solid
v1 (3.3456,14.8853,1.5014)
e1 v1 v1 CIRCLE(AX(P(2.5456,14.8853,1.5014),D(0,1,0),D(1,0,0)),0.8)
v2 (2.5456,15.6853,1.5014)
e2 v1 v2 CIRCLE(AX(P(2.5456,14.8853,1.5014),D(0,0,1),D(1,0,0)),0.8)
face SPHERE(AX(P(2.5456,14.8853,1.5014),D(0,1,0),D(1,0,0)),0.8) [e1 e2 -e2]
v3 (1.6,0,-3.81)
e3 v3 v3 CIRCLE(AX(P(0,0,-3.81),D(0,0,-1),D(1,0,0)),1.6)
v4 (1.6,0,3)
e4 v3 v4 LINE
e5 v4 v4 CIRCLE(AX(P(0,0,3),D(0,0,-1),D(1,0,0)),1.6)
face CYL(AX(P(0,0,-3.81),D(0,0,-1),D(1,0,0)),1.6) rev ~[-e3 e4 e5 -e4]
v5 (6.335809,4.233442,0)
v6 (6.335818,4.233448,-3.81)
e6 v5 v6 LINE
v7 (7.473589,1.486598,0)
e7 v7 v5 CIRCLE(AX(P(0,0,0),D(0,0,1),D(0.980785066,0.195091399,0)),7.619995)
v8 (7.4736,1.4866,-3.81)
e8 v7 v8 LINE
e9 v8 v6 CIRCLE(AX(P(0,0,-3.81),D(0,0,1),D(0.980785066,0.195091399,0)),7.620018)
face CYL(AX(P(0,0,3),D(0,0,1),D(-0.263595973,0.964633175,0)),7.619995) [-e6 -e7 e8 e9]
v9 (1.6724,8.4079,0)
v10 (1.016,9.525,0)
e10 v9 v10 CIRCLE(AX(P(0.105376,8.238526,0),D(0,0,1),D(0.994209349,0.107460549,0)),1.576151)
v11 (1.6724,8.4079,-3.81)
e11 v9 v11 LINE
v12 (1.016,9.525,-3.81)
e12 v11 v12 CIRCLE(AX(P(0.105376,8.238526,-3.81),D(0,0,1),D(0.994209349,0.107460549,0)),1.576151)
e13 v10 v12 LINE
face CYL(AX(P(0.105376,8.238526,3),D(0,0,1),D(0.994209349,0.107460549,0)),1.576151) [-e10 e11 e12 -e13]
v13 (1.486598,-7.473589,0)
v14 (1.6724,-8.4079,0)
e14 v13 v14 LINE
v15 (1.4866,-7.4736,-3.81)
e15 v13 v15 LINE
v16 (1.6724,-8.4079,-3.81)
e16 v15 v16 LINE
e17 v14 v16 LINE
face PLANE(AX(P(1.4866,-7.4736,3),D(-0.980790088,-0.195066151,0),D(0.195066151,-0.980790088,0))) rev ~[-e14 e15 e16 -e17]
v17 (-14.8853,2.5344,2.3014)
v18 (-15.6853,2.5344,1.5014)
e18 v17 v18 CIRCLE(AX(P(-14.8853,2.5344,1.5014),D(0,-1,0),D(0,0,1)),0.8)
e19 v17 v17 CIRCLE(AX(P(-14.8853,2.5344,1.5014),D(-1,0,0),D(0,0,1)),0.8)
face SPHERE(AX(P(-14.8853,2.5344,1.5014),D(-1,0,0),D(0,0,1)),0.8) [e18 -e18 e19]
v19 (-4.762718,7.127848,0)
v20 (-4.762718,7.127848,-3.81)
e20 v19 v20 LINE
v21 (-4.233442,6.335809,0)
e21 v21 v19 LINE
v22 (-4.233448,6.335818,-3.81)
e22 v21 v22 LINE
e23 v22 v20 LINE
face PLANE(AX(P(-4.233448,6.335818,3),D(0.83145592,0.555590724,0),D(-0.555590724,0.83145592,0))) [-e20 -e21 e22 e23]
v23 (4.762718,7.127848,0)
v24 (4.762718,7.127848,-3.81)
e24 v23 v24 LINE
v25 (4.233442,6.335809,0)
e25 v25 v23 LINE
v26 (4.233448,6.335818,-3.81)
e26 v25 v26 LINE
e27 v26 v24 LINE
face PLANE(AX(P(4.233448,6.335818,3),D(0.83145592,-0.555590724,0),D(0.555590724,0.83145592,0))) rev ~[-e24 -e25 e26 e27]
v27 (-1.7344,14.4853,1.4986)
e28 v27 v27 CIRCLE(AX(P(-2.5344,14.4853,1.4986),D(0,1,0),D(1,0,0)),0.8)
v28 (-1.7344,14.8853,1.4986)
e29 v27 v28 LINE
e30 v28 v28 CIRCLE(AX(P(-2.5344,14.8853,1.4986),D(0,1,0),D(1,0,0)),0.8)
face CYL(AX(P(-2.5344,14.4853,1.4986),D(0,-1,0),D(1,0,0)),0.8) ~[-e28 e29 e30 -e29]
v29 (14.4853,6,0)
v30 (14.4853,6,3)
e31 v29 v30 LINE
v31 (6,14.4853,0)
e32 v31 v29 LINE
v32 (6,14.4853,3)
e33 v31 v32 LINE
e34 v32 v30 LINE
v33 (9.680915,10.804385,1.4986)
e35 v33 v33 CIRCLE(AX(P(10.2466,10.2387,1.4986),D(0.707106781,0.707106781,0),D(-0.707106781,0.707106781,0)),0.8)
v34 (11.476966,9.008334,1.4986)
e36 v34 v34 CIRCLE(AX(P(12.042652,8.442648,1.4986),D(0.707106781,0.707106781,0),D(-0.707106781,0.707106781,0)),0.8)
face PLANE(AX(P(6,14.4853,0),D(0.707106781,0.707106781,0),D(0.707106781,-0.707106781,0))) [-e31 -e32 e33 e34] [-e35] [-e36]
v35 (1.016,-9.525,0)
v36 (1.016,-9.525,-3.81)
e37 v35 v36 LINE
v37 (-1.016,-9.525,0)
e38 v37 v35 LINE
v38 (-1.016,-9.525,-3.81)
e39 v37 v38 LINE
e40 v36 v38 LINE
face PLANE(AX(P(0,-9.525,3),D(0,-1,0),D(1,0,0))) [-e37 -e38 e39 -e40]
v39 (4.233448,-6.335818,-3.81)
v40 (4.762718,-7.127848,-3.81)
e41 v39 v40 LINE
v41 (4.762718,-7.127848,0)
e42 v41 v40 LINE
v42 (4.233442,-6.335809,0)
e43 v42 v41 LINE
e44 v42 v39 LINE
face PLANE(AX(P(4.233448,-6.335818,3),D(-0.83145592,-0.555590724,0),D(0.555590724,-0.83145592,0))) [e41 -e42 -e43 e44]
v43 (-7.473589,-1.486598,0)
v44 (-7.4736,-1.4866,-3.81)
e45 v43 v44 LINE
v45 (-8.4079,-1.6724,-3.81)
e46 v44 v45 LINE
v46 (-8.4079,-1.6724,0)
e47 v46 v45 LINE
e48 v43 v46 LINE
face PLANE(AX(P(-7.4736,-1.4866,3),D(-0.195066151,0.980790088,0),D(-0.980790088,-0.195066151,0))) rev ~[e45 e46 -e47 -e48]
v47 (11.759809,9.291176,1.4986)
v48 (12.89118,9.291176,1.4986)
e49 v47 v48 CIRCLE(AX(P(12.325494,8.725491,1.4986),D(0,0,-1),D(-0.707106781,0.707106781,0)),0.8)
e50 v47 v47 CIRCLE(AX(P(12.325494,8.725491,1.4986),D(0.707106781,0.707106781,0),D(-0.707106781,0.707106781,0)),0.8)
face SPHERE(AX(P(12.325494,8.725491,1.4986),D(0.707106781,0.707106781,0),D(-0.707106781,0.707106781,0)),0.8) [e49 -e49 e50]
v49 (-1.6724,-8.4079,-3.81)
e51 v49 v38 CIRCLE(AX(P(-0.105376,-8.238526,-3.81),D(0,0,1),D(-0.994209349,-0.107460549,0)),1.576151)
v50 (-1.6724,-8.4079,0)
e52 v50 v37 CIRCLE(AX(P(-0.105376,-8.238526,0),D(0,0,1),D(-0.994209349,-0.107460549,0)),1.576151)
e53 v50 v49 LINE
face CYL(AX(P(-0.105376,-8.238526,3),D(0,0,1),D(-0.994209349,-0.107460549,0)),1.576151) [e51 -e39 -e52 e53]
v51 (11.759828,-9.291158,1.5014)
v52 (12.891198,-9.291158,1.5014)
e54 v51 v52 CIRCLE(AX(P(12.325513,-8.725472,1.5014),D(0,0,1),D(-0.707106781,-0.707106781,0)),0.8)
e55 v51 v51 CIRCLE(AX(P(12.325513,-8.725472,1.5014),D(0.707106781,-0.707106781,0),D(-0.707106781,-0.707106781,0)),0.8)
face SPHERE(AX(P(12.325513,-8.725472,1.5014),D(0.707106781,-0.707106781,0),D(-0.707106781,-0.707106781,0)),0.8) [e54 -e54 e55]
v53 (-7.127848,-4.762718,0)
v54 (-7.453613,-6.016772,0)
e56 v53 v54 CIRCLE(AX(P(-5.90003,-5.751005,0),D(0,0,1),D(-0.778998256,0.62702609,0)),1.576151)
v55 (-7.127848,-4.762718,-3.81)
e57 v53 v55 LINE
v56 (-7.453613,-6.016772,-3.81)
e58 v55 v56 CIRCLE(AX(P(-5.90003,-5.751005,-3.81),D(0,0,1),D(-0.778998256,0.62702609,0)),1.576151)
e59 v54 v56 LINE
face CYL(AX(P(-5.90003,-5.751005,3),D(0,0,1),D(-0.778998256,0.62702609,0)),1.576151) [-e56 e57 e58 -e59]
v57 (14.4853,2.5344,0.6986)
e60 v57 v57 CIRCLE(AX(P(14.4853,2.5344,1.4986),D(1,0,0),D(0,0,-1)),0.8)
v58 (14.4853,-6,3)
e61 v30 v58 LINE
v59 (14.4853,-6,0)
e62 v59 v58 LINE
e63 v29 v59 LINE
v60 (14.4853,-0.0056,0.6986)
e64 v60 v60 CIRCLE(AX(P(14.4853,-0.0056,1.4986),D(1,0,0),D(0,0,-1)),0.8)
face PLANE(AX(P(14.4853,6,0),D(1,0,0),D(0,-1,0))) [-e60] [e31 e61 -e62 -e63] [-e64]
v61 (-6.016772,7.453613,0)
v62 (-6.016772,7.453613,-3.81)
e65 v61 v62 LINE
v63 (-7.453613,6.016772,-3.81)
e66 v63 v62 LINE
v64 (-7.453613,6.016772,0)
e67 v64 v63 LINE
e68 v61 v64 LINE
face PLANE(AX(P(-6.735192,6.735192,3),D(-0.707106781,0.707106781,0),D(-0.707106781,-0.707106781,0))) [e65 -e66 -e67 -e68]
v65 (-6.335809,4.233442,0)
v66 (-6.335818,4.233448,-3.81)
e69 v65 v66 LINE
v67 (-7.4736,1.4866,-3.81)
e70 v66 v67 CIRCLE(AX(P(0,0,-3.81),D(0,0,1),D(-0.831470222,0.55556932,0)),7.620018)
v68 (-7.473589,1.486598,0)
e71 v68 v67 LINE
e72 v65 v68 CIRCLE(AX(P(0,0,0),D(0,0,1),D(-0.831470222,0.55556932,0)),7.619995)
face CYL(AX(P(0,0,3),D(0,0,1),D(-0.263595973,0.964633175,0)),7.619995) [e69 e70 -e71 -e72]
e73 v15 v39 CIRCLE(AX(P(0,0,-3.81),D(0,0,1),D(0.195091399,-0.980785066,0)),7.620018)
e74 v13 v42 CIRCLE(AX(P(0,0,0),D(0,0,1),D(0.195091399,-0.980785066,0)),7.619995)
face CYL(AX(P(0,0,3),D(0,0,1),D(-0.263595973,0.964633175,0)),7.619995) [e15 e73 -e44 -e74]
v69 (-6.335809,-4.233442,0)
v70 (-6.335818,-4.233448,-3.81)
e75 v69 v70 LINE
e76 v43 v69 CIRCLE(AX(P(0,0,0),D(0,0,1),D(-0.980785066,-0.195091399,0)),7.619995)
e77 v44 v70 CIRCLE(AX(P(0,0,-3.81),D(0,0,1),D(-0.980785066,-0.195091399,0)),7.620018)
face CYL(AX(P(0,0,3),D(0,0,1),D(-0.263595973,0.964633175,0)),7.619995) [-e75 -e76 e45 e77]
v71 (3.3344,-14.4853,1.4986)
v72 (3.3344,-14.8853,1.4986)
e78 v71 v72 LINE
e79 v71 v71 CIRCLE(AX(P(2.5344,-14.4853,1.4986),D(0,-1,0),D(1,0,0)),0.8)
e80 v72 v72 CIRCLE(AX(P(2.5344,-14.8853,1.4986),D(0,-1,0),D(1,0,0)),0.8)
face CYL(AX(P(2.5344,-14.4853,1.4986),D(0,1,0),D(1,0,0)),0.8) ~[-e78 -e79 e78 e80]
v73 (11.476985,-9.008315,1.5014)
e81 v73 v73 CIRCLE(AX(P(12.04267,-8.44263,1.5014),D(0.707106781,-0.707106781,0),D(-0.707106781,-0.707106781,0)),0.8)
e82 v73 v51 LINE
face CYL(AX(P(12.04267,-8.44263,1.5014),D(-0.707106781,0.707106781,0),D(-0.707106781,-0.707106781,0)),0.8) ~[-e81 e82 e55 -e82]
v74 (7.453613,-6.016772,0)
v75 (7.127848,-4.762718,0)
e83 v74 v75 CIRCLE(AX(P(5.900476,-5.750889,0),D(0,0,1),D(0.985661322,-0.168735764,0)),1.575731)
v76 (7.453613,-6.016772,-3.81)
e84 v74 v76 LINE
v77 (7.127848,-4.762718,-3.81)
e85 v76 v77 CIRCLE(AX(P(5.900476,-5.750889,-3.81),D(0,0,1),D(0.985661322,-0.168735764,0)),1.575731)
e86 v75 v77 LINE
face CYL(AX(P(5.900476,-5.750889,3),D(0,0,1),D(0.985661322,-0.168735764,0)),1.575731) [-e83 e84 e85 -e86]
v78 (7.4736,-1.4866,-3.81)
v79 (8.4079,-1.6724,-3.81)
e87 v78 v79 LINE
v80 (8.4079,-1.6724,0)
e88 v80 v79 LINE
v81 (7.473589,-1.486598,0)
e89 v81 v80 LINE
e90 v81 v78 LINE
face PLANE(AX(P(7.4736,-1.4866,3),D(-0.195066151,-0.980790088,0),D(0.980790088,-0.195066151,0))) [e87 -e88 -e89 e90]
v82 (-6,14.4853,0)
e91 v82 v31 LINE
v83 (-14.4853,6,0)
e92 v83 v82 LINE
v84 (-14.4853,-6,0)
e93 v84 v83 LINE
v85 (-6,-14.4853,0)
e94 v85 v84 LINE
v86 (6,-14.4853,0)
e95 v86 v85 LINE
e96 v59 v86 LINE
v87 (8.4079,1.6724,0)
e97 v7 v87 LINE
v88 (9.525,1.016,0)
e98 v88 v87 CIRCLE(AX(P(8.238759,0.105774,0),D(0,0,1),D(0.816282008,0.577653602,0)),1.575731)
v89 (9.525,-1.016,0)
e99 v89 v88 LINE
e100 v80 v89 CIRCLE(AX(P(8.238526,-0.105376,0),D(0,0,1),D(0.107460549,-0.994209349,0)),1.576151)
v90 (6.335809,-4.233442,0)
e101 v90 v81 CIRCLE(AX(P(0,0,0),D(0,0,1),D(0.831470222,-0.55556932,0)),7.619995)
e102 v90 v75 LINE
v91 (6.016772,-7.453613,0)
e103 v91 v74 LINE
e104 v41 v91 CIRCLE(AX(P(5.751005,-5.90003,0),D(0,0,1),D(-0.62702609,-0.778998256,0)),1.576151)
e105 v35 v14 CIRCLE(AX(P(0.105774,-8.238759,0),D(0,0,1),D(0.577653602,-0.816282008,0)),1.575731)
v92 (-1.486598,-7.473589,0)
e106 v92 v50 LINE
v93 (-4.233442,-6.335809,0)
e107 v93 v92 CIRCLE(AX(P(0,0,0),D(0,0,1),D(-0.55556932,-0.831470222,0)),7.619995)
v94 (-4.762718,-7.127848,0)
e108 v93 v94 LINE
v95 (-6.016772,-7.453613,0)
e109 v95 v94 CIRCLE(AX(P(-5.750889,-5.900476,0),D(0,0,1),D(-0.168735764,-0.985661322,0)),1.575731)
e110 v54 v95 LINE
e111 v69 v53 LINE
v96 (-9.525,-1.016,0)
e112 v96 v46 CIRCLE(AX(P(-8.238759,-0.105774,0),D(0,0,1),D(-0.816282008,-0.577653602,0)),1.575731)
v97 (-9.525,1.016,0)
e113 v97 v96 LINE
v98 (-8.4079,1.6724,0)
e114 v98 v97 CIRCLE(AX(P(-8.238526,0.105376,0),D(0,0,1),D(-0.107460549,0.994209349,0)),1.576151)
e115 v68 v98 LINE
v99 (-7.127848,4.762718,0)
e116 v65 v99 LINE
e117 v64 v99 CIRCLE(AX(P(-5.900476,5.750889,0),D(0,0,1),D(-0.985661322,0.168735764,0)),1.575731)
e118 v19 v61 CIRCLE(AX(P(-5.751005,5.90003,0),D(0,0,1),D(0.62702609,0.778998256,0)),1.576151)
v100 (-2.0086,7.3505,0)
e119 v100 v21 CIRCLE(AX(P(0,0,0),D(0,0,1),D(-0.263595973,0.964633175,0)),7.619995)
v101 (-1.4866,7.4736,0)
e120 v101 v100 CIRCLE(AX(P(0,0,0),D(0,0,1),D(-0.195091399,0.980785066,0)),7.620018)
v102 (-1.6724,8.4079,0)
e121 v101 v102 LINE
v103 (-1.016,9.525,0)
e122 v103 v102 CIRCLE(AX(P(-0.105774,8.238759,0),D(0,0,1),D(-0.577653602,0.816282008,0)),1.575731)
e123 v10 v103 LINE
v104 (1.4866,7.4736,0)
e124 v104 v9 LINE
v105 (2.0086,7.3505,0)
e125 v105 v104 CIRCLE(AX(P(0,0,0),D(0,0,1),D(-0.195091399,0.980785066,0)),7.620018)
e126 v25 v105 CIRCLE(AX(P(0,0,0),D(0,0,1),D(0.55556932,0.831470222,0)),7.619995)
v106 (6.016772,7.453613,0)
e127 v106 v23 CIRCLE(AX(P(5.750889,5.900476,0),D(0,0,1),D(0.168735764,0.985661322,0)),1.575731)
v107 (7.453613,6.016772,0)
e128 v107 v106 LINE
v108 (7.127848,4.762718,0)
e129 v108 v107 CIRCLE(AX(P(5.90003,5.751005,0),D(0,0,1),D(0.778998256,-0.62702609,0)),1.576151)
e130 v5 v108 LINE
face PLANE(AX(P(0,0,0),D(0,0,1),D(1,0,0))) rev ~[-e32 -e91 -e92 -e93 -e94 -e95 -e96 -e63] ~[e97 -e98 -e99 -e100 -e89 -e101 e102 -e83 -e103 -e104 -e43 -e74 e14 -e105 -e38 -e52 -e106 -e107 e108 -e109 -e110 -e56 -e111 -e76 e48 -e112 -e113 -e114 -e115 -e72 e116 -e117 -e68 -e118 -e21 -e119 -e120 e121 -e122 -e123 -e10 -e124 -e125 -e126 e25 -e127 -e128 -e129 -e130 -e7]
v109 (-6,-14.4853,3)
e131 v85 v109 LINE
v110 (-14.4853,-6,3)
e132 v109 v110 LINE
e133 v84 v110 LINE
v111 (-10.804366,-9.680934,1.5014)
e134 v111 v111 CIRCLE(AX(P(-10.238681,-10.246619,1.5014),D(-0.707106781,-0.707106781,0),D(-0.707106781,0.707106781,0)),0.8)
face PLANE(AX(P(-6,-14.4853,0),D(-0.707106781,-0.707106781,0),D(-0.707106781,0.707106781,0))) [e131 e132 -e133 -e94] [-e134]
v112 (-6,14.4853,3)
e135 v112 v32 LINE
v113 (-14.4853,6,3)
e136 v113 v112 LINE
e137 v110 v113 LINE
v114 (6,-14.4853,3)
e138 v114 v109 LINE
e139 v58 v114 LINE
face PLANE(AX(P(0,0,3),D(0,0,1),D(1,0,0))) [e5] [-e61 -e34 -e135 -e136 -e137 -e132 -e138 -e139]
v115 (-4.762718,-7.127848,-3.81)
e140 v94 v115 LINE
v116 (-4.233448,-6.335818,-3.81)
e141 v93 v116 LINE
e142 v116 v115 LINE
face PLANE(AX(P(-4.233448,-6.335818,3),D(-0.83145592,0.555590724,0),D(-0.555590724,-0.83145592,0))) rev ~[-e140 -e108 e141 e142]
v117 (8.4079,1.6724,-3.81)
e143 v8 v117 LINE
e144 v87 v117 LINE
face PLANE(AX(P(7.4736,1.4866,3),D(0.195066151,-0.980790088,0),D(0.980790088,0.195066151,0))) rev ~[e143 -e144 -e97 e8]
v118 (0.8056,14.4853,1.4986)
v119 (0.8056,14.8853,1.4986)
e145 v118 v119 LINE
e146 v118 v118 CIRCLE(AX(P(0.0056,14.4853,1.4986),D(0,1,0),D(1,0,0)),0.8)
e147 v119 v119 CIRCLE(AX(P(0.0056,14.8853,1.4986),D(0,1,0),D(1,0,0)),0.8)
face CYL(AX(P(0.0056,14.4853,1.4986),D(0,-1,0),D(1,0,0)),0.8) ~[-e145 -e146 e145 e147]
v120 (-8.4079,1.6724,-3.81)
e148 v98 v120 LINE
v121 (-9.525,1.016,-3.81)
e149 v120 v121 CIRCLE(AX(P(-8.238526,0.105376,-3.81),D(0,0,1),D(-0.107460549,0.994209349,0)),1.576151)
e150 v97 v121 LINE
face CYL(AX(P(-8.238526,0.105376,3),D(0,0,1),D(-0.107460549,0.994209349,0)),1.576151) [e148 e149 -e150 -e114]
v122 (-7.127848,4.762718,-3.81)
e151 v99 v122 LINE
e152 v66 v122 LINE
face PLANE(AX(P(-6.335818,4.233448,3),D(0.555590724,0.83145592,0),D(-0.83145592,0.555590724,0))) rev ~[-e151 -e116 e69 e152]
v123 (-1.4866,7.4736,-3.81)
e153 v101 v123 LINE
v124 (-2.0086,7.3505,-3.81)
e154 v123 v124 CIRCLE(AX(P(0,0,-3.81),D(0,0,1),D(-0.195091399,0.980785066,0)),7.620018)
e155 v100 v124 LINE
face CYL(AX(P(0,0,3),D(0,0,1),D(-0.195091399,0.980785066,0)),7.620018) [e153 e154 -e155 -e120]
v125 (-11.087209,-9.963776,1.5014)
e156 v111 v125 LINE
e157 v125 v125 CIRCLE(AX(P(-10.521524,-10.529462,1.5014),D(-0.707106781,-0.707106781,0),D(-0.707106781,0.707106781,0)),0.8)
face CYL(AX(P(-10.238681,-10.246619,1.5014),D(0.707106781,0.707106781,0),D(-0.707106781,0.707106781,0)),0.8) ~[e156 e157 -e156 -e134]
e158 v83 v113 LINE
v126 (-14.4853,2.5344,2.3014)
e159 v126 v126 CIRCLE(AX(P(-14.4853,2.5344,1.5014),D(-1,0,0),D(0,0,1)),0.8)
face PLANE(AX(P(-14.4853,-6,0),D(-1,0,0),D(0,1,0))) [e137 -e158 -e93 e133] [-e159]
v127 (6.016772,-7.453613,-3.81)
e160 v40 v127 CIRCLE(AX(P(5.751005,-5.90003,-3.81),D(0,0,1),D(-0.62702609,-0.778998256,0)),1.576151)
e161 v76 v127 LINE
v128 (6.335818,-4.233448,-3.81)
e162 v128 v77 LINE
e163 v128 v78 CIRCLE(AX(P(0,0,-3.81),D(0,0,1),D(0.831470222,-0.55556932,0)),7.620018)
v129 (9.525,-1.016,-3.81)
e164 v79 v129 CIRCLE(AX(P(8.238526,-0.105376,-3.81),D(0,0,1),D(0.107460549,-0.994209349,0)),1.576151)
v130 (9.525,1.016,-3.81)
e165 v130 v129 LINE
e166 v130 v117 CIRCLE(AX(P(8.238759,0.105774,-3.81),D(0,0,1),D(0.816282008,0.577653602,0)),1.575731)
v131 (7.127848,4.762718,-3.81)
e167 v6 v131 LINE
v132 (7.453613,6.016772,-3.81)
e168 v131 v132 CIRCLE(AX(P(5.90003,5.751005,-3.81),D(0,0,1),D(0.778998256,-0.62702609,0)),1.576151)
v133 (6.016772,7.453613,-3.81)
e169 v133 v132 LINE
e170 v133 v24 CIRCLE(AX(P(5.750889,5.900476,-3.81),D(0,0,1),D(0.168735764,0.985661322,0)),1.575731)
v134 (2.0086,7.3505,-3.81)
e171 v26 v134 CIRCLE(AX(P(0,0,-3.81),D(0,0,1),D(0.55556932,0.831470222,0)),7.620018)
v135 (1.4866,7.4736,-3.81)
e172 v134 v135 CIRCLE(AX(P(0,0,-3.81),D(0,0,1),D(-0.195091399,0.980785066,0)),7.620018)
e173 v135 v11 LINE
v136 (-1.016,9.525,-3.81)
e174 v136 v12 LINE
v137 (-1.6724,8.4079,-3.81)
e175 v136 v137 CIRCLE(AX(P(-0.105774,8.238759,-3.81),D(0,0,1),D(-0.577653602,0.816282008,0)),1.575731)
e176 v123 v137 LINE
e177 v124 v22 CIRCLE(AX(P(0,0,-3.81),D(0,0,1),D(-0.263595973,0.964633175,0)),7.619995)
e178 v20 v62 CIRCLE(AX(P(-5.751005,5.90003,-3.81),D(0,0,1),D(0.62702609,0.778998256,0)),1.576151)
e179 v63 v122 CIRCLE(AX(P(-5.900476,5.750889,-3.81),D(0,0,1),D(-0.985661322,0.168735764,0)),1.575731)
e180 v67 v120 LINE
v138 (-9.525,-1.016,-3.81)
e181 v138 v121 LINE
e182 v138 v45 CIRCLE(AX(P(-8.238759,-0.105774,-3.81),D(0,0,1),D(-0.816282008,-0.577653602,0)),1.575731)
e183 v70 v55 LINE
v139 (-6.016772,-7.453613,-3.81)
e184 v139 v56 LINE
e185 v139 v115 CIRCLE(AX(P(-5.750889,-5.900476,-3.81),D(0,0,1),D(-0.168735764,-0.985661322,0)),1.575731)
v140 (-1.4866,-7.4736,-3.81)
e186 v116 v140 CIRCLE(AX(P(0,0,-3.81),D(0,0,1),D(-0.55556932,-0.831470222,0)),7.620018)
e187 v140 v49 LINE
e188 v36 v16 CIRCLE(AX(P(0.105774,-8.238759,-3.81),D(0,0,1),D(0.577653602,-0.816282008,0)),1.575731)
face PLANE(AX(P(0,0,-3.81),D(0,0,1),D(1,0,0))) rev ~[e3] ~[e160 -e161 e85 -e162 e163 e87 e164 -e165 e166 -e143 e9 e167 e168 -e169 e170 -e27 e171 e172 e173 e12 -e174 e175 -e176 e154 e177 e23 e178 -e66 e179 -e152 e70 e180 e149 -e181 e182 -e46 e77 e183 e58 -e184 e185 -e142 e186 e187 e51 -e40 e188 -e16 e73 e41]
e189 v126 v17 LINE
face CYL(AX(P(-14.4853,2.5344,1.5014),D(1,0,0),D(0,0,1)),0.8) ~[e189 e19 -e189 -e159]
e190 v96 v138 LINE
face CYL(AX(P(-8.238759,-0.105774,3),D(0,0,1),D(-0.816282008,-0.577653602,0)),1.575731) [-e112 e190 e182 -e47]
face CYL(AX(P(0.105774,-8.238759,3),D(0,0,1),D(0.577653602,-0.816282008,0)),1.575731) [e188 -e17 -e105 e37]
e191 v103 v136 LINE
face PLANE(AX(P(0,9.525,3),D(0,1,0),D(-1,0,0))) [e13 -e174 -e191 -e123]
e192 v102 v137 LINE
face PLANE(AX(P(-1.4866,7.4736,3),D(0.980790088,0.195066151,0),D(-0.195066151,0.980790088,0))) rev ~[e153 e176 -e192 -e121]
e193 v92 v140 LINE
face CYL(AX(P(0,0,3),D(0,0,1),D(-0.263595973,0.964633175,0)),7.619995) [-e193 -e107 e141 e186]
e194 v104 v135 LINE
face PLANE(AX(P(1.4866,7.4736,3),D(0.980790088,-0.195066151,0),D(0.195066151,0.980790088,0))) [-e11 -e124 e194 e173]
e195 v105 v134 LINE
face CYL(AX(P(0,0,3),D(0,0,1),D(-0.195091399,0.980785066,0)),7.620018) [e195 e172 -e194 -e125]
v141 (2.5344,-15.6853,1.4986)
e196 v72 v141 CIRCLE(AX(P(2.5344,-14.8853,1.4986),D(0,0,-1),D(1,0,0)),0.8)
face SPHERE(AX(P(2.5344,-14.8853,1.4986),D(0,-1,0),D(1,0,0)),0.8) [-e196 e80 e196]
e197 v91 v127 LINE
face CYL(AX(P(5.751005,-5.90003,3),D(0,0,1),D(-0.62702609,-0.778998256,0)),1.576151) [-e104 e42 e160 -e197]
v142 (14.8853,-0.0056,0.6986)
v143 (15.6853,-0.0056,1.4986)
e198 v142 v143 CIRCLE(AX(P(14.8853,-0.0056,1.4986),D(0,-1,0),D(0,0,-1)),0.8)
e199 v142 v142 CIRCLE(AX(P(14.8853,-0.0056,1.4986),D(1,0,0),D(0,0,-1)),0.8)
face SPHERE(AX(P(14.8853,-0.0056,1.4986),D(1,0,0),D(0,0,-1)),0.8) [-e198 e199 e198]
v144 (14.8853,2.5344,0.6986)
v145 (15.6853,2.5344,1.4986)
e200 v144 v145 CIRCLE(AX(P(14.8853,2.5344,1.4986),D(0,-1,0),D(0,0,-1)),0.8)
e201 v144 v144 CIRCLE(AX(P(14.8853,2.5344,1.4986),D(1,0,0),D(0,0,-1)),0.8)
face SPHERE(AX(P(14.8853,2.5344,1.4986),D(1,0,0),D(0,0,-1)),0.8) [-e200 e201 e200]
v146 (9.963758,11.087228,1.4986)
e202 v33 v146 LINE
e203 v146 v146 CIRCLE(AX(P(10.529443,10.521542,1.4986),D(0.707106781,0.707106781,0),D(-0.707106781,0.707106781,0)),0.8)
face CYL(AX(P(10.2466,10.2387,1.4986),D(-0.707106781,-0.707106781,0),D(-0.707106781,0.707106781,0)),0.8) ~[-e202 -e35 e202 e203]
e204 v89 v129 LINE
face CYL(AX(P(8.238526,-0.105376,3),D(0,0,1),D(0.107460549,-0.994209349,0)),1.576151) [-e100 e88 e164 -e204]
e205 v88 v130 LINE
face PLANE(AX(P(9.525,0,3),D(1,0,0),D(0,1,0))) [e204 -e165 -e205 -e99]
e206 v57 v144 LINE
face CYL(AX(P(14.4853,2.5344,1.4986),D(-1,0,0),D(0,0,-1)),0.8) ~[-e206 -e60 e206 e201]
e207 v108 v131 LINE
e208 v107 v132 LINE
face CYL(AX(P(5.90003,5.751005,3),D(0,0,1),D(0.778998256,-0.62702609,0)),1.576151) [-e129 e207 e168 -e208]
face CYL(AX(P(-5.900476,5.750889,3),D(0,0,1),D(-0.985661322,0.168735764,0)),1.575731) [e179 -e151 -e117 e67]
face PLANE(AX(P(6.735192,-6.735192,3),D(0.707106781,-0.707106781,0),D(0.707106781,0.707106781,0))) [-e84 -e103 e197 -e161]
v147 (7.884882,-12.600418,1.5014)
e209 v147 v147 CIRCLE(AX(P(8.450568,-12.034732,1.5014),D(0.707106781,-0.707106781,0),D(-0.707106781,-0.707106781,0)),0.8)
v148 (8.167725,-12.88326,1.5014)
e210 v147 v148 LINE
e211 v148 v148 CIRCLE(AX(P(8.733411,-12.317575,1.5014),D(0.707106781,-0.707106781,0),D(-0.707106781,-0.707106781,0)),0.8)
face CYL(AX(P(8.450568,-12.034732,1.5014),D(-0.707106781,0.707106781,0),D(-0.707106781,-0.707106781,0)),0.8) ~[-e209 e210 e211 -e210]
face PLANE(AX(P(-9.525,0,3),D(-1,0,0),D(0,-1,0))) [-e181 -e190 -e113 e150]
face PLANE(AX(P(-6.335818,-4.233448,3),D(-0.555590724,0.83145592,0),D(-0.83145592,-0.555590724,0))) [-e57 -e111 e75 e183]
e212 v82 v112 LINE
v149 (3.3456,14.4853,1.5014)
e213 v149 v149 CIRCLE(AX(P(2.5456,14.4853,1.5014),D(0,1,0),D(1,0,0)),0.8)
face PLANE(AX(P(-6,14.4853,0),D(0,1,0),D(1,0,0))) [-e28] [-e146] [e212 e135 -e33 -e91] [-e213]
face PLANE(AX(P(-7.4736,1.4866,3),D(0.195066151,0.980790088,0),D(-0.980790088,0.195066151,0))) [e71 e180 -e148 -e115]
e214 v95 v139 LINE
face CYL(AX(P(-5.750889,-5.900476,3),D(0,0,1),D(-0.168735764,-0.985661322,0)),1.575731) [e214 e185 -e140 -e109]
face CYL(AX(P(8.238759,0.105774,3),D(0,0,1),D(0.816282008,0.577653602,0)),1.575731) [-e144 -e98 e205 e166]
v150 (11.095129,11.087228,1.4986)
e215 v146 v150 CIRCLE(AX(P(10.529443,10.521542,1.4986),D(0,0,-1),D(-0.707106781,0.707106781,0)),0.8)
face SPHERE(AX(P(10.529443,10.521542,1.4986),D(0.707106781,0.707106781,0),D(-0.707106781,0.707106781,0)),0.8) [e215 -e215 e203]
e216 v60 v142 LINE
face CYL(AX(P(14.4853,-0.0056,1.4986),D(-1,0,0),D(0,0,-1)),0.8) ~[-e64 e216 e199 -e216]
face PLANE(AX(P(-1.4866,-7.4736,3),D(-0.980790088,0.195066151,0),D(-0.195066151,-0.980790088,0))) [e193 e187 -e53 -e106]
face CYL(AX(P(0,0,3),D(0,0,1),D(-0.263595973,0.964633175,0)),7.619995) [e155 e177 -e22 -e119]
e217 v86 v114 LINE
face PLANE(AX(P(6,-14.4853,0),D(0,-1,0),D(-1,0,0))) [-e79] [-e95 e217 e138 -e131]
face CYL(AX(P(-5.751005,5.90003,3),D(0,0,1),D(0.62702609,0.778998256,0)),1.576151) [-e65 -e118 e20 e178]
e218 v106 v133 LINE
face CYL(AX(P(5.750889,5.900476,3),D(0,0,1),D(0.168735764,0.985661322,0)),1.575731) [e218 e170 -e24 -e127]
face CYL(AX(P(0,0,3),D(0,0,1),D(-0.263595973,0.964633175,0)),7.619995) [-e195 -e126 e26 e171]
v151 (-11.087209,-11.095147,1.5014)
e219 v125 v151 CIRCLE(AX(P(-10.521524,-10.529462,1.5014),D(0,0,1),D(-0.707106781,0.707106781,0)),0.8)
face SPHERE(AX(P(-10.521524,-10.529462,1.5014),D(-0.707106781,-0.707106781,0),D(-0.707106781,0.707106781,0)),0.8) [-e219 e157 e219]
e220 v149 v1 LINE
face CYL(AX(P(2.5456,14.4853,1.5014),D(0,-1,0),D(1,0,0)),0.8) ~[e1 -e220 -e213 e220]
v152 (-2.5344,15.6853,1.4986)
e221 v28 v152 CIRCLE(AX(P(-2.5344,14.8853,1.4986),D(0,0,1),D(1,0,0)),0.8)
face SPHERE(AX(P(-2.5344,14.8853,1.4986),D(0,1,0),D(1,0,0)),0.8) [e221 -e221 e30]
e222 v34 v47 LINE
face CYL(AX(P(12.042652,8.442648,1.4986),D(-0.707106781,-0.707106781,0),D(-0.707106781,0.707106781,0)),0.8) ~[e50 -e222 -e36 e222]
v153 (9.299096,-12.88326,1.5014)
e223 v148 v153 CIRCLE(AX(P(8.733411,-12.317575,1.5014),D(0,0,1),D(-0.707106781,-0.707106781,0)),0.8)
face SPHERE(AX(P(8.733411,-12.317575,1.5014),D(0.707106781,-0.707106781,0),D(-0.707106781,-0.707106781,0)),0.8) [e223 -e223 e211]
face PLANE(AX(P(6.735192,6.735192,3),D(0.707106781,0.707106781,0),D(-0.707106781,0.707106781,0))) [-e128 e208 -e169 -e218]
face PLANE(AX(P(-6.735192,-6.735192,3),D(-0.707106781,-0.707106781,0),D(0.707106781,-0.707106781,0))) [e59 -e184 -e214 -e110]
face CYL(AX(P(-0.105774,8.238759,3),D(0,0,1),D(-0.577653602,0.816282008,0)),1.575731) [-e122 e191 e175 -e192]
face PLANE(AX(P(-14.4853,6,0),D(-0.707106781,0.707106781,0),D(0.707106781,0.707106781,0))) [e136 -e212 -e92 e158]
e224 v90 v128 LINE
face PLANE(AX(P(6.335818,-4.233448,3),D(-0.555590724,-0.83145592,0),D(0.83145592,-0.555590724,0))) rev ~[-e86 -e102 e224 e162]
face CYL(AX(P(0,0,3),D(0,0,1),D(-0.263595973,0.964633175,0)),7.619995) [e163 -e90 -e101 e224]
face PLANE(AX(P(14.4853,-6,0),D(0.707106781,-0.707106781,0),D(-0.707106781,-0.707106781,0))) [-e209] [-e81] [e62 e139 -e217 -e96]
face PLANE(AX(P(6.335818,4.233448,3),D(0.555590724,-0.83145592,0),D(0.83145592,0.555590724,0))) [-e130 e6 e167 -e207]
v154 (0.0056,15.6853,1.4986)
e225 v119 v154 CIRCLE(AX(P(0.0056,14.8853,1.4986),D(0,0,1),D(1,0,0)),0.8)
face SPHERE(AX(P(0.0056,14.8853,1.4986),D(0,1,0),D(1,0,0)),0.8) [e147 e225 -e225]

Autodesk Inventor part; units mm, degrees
ref_plane "YZ Plane" through (0, 0, 0) normal (1, 0, 0) x (0, 1, 0)
ref_plane "XZ Plane" through (0, 0, 0) normal (0, 1, 0) x (-1, 0, 0)
ref_plane "XY Plane" through (0, 0, 0) normal (0, 0, 1) x (1, 0, 0)
sketch "Sketch1" plane through (0, 0, 0) normal (0, 0, 1) x (1, 0, 0)
  line L0 (6, 14.4853) -> (14.4853, 6)
  line L1 (14.4853, 6) -> (14.4853, -6)
  line L2 (14.4853, -6) -> (6, -14.4853)
  line L3 (6, -14.4853) -> (-6, -14.4853)
  line L4 (-6, -14.4853) -> (-14.4853, -6)
  line L5 (-14.4853, -6) -> (-14.4853, 6)
  line L6 (-14.4853, 6) -> (-6, 14.4853)
  line L7 (-6, 14.4853) -> (6, 14.4853)
  point P0 (0, 0)
  point P1 (0, 0)
  dimension "d2" = 12
extrude "Extrusion1" add sketch "Sketch1" along normal blind 3
sketch "Sketch2" plane through (-6, 14.4853, 0) normal (0, 1, 0) x (1, 0, 0)
  circle A0 centre (3.4656, -1.4986) radius 0.8
  circle A1 centre (6.0056, -1.4986) radius 0.8
  circle A2 centre (8.5456, -1.5014) radius 0.8
  line L0 (0, 0) -> (12, 0) projected
  line L1 (0, 0) -> (0, -3) projected
  line L2 (0, -3) -> (12, -3) projected
  line L3 (12, 0) -> (12, -3) projected
  point P0 (6, 0)
  dimension "d5" = 1.6
  dimension "d6" = 2.54
  dimension "d7" = 2.54
  dimension "d8" = 1.6
  dimension "d9" = 1.6
  dimension "d10" = 1.4986
  dimension "d24" = 1.4986
  dimension "d170" = 5.9944
extrude "Extrusion2" add sketch "Sketch2" along normal blind 1.2 contours A0 | A1 | A2
fillet "Fillet1" radius 0.8 3 edges at (1.7456, 15.6853, 1.5014) (-0.7944, 15.6853, 1.4986) (-3.3344, 15.6853, 1.4986)
sketch "Sketch3" plane through (6, 14.4853, 0) normal (0.7071, 0.7071, 0) x (-0.7071, 0.7071, 0)
  circle A0 centre (-8.5456, 1.4986) radius 0.8
  circle A1 centre (-6.0056, 1.4986) radius 0.8
  circle A2 centre (-3.4656, 1.4986) radius 0.8
  line L0 (-10.0061, 2.6736) -> (-10.0061, 0)
  line L1 (-10.0061, 0) -> (0.0295, 0)
  line L2 (0, 3) -> (-12, 3) projected
  line L3 (-12, 0) -> (0, 0) projected
  line L4 (-12, 0) -> (-12, 3) projected
  point P0 (-3.9705, 2.6736)
  dimension "d25" = 1.6
  dimension "d26" = 2.54
  dimension "d27" = 2.54
  dimension "d28" = 1.6
  dimension "d29" = 1.6
  dimension "d31" = 1.4605
  dimension "d32" = 1.4986
  dimension "d34" = 0
  dimension "d35" = 1.4986
  dimension "d36" = 1.4986
  dimension "d169" = 5.9944
sketch "Sketch4" plane through (14.4853, -6, 0) normal (1, 0, 0) x (0, 0, -1)
  circle A0 centre (-1.4986, 3.4544) radius 0.8
  circle A1 centre (-1.4986, 5.9944) radius 0.8
  circle A2 centre (-1.4986, 8.5344) radius 0.8
  line L0 (0.3264, 0) -> (0, 0)
  line L1 (0, 0) -> (0, 3.0295)
  line L2 (0, 3) -> (0, -5)
  line L3 (0, -5) -> (0, 3)
  line L4 (0, 12) -> (0, 0) projected
  line L5 (0, 0) -> (-3, 0) projected
  point P0 (0, 6)
  point P1 (0.3264, -0.9705)
  dimension "d40" = 1.6
  dimension "d41" = 2.54
  dimension "d42" = 2.54
  dimension "d43" = 1.6
  dimension "d44" = 1.6
  dimension "d46" = 1.4986
  dimension "d47" = 0
  dimension "d48" = 1.4986
  dimension "d49" = 1.4986
  dimension "d50" = 0
  dimension "d51" = 0
  dimension "d171" = 5.9944
sketch "Sketch6" plane through (-14.4853, -6, 0) normal (-1, 0, 0) x (0, 0, 1)
  circle A0 centre (1.5014, 3.4544) radius 0.8
  circle A1 centre (1.5014, 5.9944) radius 0.8
  circle A2 centre (1.5014, 8.5344) radius 0.8
  line L0 (1.3264, 0) -> (3, 0)
  line L1 (3, 0) -> (3, 4.0295)
  line L2 (3, -4) -> (3, 4)
  line L3 (0, 0) -> (0, 12) projected
  line L4 (3, 12) -> (3, 0) projected
  line L5 (0, 0) -> (3, 0) projected
  point P0 (0, 6)
  point P1 (1.3264, 0.0295)
  dimension "d70" = 1.6
  dimension "d71" = 2.54
  dimension "d72" = 2.54
  dimension "d73" = 1.6
  dimension "d74" = 1.6
  dimension "d76" = 1.4986
  dimension "d77" = 0
  dimension "d78" = 1.4986
  dimension "d79" = 1.4986
  dimension "d81" = 0
  dimension "d82" = 0
  dimension "d176" = 5.9944
sketch "Sketch7" plane through (-6, -14.4853, 3) normal (-0.7071, -0.7071, 0) x (-0.7071, 0.7071, 0)
  circle A0 centre (3.4544, 1.4986) radius 0.8
  circle A1 centre (5.9944, 1.4986) radius 0.8
  circle A2 centre (8.5344, 1.4986) radius 0.8
  line L0 (0, 1.115) -> (0, 0)
  line L1 (0, 0) -> (3.9792, 0)
  line L2 (7.9497, 0) -> (0, 0)
  line L3 (0, 2.4413) -> (0, 0)
  line L4 (0, 0) -> (12, 0) projected
  line L5 (0, 3) -> (0, 0) projected
  point P0 (6, 3)
  point P1 (3.9497, 2.4413)
  point P2 (-0.0208, 1.115)
  point P3 (3.9497, -0.5587)
  dimension "d83" = 1.6
  dimension "d84" = 2.54
  dimension "d85" = 2.54
  dimension "d86" = 1.6
  dimension "d87" = 1.6
  dimension "d89" = 1.4986
  dimension "d90" = 1.4986
  dimension "d91" = 1.4986
  dimension "d92" = 0
  dimension "d93" = 0
  dimension "d94" = 0
  dimension "d95" = 0
  dimension "d175" = 5.9944
sketch "Sketch8" plane through (-6, -14.4853, 0) normal (0, -1, 0) x (1, 0, 0)
  line L0 (7.9497, 0) -> (0, 0)
  line L1 (0, 0) -> (3.9792, 0)
  line L2 (0, 1.115) -> (0, 0)
  circle A0 centre (3.4544, 1.4986) radius 0.8
  circle A1 centre (8.5344, 1.4986) radius 0.8
  line L3 (0, 2.4413) -> (0, 0)
  circle A2 centre (5.9944, 1.4986) radius 0.8
  line L4 (0, 0) -> (8, 0)
  line L5 (0, 3) -> (0, 0)
  point P0 (6, 0)
  point P1 (4, 3)
  point P2 (3.9497, -0.5587)
  point P3 (-0.0208, 1.115)
  point P4 (3.9497, 2.4413)
  dimension "d96" = 1.6
  dimension "d97" = 2.54
  dimension "d98" = 2.54
  dimension "d99" = 1.6
  dimension "d100" = 1.6
  dimension "d102" = 1.4986
  dimension "d103" = 1.4986
  dimension "d104" = 1.4986
  dimension "d105" = 0
  dimension "d106" = 0
  dimension "d107" = 0
  dimension "d108" = 0
  dimension "d173" = 5.9944
sketch "Sketch9" plane through (14.4853, -6, 3) normal (0.7071, -0.7071, 0) x (-0.7071, -0.7071, 0)
  line L0 (7.9497, 0) -> (0, 0)
  line L1 (0, 0) -> (3.9792, 0)
  line L2 (0, 1.115) -> (0, 0)
  circle A0 centre (3.4544, 1.4986) radius 0.8
  circle A1 centre (8.5344, 1.4986) radius 0.8
  line L3 (0, 2.4413) -> (0, 0)
  circle A2 centre (5.9944, 1.4986) radius 0.8
  line L4 (0, 0) -> (8, 0)
  line L5 (0, 3) -> (0, 0)
  point P0 (6, 3)
  point P1 (4, 3)
  point P2 (3.9497, -0.5587)
  point P3 (-0.0208, 1.115)
  point P4 (3.9497, 2.4413)
  dimension "d109" = 1.6
  dimension "d110" = 2.54
  dimension "d111" = 2.54
  dimension "d112" = 1.6
  dimension "d113" = 1.6
  dimension "d115" = 1.4986
  dimension "d116" = 1.4986
  dimension "d117" = 1.4986
  dimension "d118" = 0
  dimension "d119" = 0
  dimension "d120" = 0
  dimension "d121" = 0
  dimension "d172" = 5.9944
extrude "Extrusion6" add sketch "Sketch3" along normal blind 1.2 contours A0 | A1
fillet "Fillet5" radius 0.8 2 edges at (11.6608, 10.5215, 1.4986) (13.4569, 8.7255, 1.4986)
extrude "Extrusion7" add sketch "Sketch4" along normal blind 1.2 contours A1 | A2
fillet "Fillet6" radius 0.8 2 edges at (15.6853, 2.5344, 2.2986) (15.6853, -0.0056, 2.2986)
extrude "Extrusion8" add sketch "Sketch9" along normal blind 1.2 contours A0 | A1
fillet "Fillet7" radius 0.8 2 edges at (13.4569, -8.7255, 1.5014) (9.8648, -12.3176, 1.5014)
extrude "Extrusion9" add sketch "Sketch8" along normal blind 1.2 contours A1
fillet "Fillet8" radius 0.8 1 edges at (1.7344, -15.6853, 1.4986)
extrude "Extrusion10" add sketch "Sketch7" along normal blind 1.2 contours A1
fillet "Fillet9" radius 0.8 1 edges at (-10.5215, -11.6608, 1.5014)
extrude "Extrusion11" add sketch "Sketch6" along normal blind 1.2 contours A2
fillet "Fillet10" radius 0.8 1 edges at (-15.6853, 2.5344, 0.7014)
sketch "Sketch11" plane through (0, 0, 3) normal (0, 0, 1) x (1, 0, 0)
  arc A0 (-2.0086, 7.3505) -> (2.0086, 7.3505) centre (0, 0) ccw
  line L0 (0, 7.62) -> (0, 9.525)
  line L1 (0, 9.525) -> (1.016, 9.525)
  line L2 (0, 9.525) -> (-1.016, 9.525)
  arc A1 (-1.4866, 7.4736) -> (1.4866, 7.4736) centre (0, 0) ccw
  line L3 (-1.4866, 7.4736) -> (-1.8582, 9.342)
  line L4 (-2.916, 7.04) -> (-3.6451, 8.8)
  line L5 (-4.2334, 6.3358) -> (-5.2918, 7.9197)
  line L6 (-5.3882, 5.3882) -> (-6.7352, 6.7352)
  line L7 (-6.3358, 4.2334) -> (-7.9197, 5.2918)
  line L8 (-7.04, 2.916) -> (-8.8, 3.6451)
  line L9 (-7.4736, 1.4866) -> (-9.342, 1.8582)
  line L10 (-7.62, 0) -> (-9.525, 0)
  line L11 (-7.4736, -1.4866) -> (-9.342, -1.8582)
  line L12 (-7.04, -2.916) -> (-8.8, -3.6451)
  line L13 (-6.3358, -4.2334) -> (-7.9197, -5.2918)
  line L14 (-5.3882, -5.3882) -> (-6.7352, -6.7352)
  line L15 (-4.2334, -6.3358) -> (-5.2918, -7.9197)
  line L16 (-2.916, -7.04) -> (-3.6451, -8.8)
  line L17 (-1.4866, -7.4736) -> (-1.8582, -9.342)
  line L18 (0, -7.62) -> (0, -9.525)
  line L19 (1.4866, -7.4736) -> (1.8582, -9.342)
  line L20 (2.916, -7.04) -> (3.6451, -8.8)
  line L21 (4.2334, -6.3358) -> (5.2918, -7.9197)
  line L22 (5.3882, -5.3882) -> (6.7352, -6.7352)
  line L23 (6.3358, -4.2334) -> (7.9197, -5.2918)
  line L24 (7.04, -2.916) -> (8.8, -3.6451)
  line L25 (7.4736, -1.4866) -> (9.342, -1.8582)
  line L26 (7.62, 0) -> (9.525, 0)
  line L27 (7.4736, 1.4866) -> (9.342, 1.8582)
  line L28 (7.04, 2.916) -> (8.8, 3.6451)
  line L29 (6.3358, 4.2334) -> (7.9197, 5.2918)
  line L30 (5.3882, 5.3882) -> (6.7352, 6.7352)
  line L31 (4.2334, 6.3358) -> (5.2918, 7.9197)
  line L32 (2.916, 7.04) -> (3.6451, 8.8)
  line L33 (1.4866, 7.4736) -> (1.8582, 9.342)
  arc A2 (-1.4866, 7.4736) -> (1.4866, 7.4736) centre (0, 0) ccw
  arc A3 (-1.016, 9.525) -> (-1.6724, 8.4079) centre (-0.1056, 8.2386) ccw
  arc A4 (1.6724, 8.4079) -> (1.016, 9.525) centre (0.1056, 8.2386) ccw
  circle A5 centre (0, 0) radius 7.62
  line L34 (-1.4866, 7.4736) -> (-1.6724, 8.4079)
  line L35 (-1.016, 9.525) -> (1.016, 9.525)
  line L36 (1.6724, 8.4079) -> (1.4866, 7.4736)
  arc A6 (-1.016, 9.525) -> (-1.6724, 8.4079) centre (-0.1056, 8.2386) ccw
  arc A7 (1.6724, 8.4079) -> (1.016, 9.525) centre (0.1056, 8.2386) ccw
  dimension "d148" = 15.24
  dimension "d156" = 360
  dimension "d161" = 1.016
  dimension "d162" = 1.016
  dimension "d168" = 1.905
extrude "Extrusion14" add sketch "Sketch11" against normal blind 6.81
pattern_circular "Circular Pattern4" count 8 over 360 about axis through (0, 0, 3) along (0, 0, -1) of "Extrusion14"
sketch "Sketch12" plane through (0, 0, -3.81) normal (0, 0, -1) x (1, 0, 0)
  circle A0 centre (0, 0) radius 1.6
  dimension "d177" = 3.2
extrude "Extrusion15" cut sketch "Sketch12" against normal up to next
properties part number "Right Braille Wheel"
